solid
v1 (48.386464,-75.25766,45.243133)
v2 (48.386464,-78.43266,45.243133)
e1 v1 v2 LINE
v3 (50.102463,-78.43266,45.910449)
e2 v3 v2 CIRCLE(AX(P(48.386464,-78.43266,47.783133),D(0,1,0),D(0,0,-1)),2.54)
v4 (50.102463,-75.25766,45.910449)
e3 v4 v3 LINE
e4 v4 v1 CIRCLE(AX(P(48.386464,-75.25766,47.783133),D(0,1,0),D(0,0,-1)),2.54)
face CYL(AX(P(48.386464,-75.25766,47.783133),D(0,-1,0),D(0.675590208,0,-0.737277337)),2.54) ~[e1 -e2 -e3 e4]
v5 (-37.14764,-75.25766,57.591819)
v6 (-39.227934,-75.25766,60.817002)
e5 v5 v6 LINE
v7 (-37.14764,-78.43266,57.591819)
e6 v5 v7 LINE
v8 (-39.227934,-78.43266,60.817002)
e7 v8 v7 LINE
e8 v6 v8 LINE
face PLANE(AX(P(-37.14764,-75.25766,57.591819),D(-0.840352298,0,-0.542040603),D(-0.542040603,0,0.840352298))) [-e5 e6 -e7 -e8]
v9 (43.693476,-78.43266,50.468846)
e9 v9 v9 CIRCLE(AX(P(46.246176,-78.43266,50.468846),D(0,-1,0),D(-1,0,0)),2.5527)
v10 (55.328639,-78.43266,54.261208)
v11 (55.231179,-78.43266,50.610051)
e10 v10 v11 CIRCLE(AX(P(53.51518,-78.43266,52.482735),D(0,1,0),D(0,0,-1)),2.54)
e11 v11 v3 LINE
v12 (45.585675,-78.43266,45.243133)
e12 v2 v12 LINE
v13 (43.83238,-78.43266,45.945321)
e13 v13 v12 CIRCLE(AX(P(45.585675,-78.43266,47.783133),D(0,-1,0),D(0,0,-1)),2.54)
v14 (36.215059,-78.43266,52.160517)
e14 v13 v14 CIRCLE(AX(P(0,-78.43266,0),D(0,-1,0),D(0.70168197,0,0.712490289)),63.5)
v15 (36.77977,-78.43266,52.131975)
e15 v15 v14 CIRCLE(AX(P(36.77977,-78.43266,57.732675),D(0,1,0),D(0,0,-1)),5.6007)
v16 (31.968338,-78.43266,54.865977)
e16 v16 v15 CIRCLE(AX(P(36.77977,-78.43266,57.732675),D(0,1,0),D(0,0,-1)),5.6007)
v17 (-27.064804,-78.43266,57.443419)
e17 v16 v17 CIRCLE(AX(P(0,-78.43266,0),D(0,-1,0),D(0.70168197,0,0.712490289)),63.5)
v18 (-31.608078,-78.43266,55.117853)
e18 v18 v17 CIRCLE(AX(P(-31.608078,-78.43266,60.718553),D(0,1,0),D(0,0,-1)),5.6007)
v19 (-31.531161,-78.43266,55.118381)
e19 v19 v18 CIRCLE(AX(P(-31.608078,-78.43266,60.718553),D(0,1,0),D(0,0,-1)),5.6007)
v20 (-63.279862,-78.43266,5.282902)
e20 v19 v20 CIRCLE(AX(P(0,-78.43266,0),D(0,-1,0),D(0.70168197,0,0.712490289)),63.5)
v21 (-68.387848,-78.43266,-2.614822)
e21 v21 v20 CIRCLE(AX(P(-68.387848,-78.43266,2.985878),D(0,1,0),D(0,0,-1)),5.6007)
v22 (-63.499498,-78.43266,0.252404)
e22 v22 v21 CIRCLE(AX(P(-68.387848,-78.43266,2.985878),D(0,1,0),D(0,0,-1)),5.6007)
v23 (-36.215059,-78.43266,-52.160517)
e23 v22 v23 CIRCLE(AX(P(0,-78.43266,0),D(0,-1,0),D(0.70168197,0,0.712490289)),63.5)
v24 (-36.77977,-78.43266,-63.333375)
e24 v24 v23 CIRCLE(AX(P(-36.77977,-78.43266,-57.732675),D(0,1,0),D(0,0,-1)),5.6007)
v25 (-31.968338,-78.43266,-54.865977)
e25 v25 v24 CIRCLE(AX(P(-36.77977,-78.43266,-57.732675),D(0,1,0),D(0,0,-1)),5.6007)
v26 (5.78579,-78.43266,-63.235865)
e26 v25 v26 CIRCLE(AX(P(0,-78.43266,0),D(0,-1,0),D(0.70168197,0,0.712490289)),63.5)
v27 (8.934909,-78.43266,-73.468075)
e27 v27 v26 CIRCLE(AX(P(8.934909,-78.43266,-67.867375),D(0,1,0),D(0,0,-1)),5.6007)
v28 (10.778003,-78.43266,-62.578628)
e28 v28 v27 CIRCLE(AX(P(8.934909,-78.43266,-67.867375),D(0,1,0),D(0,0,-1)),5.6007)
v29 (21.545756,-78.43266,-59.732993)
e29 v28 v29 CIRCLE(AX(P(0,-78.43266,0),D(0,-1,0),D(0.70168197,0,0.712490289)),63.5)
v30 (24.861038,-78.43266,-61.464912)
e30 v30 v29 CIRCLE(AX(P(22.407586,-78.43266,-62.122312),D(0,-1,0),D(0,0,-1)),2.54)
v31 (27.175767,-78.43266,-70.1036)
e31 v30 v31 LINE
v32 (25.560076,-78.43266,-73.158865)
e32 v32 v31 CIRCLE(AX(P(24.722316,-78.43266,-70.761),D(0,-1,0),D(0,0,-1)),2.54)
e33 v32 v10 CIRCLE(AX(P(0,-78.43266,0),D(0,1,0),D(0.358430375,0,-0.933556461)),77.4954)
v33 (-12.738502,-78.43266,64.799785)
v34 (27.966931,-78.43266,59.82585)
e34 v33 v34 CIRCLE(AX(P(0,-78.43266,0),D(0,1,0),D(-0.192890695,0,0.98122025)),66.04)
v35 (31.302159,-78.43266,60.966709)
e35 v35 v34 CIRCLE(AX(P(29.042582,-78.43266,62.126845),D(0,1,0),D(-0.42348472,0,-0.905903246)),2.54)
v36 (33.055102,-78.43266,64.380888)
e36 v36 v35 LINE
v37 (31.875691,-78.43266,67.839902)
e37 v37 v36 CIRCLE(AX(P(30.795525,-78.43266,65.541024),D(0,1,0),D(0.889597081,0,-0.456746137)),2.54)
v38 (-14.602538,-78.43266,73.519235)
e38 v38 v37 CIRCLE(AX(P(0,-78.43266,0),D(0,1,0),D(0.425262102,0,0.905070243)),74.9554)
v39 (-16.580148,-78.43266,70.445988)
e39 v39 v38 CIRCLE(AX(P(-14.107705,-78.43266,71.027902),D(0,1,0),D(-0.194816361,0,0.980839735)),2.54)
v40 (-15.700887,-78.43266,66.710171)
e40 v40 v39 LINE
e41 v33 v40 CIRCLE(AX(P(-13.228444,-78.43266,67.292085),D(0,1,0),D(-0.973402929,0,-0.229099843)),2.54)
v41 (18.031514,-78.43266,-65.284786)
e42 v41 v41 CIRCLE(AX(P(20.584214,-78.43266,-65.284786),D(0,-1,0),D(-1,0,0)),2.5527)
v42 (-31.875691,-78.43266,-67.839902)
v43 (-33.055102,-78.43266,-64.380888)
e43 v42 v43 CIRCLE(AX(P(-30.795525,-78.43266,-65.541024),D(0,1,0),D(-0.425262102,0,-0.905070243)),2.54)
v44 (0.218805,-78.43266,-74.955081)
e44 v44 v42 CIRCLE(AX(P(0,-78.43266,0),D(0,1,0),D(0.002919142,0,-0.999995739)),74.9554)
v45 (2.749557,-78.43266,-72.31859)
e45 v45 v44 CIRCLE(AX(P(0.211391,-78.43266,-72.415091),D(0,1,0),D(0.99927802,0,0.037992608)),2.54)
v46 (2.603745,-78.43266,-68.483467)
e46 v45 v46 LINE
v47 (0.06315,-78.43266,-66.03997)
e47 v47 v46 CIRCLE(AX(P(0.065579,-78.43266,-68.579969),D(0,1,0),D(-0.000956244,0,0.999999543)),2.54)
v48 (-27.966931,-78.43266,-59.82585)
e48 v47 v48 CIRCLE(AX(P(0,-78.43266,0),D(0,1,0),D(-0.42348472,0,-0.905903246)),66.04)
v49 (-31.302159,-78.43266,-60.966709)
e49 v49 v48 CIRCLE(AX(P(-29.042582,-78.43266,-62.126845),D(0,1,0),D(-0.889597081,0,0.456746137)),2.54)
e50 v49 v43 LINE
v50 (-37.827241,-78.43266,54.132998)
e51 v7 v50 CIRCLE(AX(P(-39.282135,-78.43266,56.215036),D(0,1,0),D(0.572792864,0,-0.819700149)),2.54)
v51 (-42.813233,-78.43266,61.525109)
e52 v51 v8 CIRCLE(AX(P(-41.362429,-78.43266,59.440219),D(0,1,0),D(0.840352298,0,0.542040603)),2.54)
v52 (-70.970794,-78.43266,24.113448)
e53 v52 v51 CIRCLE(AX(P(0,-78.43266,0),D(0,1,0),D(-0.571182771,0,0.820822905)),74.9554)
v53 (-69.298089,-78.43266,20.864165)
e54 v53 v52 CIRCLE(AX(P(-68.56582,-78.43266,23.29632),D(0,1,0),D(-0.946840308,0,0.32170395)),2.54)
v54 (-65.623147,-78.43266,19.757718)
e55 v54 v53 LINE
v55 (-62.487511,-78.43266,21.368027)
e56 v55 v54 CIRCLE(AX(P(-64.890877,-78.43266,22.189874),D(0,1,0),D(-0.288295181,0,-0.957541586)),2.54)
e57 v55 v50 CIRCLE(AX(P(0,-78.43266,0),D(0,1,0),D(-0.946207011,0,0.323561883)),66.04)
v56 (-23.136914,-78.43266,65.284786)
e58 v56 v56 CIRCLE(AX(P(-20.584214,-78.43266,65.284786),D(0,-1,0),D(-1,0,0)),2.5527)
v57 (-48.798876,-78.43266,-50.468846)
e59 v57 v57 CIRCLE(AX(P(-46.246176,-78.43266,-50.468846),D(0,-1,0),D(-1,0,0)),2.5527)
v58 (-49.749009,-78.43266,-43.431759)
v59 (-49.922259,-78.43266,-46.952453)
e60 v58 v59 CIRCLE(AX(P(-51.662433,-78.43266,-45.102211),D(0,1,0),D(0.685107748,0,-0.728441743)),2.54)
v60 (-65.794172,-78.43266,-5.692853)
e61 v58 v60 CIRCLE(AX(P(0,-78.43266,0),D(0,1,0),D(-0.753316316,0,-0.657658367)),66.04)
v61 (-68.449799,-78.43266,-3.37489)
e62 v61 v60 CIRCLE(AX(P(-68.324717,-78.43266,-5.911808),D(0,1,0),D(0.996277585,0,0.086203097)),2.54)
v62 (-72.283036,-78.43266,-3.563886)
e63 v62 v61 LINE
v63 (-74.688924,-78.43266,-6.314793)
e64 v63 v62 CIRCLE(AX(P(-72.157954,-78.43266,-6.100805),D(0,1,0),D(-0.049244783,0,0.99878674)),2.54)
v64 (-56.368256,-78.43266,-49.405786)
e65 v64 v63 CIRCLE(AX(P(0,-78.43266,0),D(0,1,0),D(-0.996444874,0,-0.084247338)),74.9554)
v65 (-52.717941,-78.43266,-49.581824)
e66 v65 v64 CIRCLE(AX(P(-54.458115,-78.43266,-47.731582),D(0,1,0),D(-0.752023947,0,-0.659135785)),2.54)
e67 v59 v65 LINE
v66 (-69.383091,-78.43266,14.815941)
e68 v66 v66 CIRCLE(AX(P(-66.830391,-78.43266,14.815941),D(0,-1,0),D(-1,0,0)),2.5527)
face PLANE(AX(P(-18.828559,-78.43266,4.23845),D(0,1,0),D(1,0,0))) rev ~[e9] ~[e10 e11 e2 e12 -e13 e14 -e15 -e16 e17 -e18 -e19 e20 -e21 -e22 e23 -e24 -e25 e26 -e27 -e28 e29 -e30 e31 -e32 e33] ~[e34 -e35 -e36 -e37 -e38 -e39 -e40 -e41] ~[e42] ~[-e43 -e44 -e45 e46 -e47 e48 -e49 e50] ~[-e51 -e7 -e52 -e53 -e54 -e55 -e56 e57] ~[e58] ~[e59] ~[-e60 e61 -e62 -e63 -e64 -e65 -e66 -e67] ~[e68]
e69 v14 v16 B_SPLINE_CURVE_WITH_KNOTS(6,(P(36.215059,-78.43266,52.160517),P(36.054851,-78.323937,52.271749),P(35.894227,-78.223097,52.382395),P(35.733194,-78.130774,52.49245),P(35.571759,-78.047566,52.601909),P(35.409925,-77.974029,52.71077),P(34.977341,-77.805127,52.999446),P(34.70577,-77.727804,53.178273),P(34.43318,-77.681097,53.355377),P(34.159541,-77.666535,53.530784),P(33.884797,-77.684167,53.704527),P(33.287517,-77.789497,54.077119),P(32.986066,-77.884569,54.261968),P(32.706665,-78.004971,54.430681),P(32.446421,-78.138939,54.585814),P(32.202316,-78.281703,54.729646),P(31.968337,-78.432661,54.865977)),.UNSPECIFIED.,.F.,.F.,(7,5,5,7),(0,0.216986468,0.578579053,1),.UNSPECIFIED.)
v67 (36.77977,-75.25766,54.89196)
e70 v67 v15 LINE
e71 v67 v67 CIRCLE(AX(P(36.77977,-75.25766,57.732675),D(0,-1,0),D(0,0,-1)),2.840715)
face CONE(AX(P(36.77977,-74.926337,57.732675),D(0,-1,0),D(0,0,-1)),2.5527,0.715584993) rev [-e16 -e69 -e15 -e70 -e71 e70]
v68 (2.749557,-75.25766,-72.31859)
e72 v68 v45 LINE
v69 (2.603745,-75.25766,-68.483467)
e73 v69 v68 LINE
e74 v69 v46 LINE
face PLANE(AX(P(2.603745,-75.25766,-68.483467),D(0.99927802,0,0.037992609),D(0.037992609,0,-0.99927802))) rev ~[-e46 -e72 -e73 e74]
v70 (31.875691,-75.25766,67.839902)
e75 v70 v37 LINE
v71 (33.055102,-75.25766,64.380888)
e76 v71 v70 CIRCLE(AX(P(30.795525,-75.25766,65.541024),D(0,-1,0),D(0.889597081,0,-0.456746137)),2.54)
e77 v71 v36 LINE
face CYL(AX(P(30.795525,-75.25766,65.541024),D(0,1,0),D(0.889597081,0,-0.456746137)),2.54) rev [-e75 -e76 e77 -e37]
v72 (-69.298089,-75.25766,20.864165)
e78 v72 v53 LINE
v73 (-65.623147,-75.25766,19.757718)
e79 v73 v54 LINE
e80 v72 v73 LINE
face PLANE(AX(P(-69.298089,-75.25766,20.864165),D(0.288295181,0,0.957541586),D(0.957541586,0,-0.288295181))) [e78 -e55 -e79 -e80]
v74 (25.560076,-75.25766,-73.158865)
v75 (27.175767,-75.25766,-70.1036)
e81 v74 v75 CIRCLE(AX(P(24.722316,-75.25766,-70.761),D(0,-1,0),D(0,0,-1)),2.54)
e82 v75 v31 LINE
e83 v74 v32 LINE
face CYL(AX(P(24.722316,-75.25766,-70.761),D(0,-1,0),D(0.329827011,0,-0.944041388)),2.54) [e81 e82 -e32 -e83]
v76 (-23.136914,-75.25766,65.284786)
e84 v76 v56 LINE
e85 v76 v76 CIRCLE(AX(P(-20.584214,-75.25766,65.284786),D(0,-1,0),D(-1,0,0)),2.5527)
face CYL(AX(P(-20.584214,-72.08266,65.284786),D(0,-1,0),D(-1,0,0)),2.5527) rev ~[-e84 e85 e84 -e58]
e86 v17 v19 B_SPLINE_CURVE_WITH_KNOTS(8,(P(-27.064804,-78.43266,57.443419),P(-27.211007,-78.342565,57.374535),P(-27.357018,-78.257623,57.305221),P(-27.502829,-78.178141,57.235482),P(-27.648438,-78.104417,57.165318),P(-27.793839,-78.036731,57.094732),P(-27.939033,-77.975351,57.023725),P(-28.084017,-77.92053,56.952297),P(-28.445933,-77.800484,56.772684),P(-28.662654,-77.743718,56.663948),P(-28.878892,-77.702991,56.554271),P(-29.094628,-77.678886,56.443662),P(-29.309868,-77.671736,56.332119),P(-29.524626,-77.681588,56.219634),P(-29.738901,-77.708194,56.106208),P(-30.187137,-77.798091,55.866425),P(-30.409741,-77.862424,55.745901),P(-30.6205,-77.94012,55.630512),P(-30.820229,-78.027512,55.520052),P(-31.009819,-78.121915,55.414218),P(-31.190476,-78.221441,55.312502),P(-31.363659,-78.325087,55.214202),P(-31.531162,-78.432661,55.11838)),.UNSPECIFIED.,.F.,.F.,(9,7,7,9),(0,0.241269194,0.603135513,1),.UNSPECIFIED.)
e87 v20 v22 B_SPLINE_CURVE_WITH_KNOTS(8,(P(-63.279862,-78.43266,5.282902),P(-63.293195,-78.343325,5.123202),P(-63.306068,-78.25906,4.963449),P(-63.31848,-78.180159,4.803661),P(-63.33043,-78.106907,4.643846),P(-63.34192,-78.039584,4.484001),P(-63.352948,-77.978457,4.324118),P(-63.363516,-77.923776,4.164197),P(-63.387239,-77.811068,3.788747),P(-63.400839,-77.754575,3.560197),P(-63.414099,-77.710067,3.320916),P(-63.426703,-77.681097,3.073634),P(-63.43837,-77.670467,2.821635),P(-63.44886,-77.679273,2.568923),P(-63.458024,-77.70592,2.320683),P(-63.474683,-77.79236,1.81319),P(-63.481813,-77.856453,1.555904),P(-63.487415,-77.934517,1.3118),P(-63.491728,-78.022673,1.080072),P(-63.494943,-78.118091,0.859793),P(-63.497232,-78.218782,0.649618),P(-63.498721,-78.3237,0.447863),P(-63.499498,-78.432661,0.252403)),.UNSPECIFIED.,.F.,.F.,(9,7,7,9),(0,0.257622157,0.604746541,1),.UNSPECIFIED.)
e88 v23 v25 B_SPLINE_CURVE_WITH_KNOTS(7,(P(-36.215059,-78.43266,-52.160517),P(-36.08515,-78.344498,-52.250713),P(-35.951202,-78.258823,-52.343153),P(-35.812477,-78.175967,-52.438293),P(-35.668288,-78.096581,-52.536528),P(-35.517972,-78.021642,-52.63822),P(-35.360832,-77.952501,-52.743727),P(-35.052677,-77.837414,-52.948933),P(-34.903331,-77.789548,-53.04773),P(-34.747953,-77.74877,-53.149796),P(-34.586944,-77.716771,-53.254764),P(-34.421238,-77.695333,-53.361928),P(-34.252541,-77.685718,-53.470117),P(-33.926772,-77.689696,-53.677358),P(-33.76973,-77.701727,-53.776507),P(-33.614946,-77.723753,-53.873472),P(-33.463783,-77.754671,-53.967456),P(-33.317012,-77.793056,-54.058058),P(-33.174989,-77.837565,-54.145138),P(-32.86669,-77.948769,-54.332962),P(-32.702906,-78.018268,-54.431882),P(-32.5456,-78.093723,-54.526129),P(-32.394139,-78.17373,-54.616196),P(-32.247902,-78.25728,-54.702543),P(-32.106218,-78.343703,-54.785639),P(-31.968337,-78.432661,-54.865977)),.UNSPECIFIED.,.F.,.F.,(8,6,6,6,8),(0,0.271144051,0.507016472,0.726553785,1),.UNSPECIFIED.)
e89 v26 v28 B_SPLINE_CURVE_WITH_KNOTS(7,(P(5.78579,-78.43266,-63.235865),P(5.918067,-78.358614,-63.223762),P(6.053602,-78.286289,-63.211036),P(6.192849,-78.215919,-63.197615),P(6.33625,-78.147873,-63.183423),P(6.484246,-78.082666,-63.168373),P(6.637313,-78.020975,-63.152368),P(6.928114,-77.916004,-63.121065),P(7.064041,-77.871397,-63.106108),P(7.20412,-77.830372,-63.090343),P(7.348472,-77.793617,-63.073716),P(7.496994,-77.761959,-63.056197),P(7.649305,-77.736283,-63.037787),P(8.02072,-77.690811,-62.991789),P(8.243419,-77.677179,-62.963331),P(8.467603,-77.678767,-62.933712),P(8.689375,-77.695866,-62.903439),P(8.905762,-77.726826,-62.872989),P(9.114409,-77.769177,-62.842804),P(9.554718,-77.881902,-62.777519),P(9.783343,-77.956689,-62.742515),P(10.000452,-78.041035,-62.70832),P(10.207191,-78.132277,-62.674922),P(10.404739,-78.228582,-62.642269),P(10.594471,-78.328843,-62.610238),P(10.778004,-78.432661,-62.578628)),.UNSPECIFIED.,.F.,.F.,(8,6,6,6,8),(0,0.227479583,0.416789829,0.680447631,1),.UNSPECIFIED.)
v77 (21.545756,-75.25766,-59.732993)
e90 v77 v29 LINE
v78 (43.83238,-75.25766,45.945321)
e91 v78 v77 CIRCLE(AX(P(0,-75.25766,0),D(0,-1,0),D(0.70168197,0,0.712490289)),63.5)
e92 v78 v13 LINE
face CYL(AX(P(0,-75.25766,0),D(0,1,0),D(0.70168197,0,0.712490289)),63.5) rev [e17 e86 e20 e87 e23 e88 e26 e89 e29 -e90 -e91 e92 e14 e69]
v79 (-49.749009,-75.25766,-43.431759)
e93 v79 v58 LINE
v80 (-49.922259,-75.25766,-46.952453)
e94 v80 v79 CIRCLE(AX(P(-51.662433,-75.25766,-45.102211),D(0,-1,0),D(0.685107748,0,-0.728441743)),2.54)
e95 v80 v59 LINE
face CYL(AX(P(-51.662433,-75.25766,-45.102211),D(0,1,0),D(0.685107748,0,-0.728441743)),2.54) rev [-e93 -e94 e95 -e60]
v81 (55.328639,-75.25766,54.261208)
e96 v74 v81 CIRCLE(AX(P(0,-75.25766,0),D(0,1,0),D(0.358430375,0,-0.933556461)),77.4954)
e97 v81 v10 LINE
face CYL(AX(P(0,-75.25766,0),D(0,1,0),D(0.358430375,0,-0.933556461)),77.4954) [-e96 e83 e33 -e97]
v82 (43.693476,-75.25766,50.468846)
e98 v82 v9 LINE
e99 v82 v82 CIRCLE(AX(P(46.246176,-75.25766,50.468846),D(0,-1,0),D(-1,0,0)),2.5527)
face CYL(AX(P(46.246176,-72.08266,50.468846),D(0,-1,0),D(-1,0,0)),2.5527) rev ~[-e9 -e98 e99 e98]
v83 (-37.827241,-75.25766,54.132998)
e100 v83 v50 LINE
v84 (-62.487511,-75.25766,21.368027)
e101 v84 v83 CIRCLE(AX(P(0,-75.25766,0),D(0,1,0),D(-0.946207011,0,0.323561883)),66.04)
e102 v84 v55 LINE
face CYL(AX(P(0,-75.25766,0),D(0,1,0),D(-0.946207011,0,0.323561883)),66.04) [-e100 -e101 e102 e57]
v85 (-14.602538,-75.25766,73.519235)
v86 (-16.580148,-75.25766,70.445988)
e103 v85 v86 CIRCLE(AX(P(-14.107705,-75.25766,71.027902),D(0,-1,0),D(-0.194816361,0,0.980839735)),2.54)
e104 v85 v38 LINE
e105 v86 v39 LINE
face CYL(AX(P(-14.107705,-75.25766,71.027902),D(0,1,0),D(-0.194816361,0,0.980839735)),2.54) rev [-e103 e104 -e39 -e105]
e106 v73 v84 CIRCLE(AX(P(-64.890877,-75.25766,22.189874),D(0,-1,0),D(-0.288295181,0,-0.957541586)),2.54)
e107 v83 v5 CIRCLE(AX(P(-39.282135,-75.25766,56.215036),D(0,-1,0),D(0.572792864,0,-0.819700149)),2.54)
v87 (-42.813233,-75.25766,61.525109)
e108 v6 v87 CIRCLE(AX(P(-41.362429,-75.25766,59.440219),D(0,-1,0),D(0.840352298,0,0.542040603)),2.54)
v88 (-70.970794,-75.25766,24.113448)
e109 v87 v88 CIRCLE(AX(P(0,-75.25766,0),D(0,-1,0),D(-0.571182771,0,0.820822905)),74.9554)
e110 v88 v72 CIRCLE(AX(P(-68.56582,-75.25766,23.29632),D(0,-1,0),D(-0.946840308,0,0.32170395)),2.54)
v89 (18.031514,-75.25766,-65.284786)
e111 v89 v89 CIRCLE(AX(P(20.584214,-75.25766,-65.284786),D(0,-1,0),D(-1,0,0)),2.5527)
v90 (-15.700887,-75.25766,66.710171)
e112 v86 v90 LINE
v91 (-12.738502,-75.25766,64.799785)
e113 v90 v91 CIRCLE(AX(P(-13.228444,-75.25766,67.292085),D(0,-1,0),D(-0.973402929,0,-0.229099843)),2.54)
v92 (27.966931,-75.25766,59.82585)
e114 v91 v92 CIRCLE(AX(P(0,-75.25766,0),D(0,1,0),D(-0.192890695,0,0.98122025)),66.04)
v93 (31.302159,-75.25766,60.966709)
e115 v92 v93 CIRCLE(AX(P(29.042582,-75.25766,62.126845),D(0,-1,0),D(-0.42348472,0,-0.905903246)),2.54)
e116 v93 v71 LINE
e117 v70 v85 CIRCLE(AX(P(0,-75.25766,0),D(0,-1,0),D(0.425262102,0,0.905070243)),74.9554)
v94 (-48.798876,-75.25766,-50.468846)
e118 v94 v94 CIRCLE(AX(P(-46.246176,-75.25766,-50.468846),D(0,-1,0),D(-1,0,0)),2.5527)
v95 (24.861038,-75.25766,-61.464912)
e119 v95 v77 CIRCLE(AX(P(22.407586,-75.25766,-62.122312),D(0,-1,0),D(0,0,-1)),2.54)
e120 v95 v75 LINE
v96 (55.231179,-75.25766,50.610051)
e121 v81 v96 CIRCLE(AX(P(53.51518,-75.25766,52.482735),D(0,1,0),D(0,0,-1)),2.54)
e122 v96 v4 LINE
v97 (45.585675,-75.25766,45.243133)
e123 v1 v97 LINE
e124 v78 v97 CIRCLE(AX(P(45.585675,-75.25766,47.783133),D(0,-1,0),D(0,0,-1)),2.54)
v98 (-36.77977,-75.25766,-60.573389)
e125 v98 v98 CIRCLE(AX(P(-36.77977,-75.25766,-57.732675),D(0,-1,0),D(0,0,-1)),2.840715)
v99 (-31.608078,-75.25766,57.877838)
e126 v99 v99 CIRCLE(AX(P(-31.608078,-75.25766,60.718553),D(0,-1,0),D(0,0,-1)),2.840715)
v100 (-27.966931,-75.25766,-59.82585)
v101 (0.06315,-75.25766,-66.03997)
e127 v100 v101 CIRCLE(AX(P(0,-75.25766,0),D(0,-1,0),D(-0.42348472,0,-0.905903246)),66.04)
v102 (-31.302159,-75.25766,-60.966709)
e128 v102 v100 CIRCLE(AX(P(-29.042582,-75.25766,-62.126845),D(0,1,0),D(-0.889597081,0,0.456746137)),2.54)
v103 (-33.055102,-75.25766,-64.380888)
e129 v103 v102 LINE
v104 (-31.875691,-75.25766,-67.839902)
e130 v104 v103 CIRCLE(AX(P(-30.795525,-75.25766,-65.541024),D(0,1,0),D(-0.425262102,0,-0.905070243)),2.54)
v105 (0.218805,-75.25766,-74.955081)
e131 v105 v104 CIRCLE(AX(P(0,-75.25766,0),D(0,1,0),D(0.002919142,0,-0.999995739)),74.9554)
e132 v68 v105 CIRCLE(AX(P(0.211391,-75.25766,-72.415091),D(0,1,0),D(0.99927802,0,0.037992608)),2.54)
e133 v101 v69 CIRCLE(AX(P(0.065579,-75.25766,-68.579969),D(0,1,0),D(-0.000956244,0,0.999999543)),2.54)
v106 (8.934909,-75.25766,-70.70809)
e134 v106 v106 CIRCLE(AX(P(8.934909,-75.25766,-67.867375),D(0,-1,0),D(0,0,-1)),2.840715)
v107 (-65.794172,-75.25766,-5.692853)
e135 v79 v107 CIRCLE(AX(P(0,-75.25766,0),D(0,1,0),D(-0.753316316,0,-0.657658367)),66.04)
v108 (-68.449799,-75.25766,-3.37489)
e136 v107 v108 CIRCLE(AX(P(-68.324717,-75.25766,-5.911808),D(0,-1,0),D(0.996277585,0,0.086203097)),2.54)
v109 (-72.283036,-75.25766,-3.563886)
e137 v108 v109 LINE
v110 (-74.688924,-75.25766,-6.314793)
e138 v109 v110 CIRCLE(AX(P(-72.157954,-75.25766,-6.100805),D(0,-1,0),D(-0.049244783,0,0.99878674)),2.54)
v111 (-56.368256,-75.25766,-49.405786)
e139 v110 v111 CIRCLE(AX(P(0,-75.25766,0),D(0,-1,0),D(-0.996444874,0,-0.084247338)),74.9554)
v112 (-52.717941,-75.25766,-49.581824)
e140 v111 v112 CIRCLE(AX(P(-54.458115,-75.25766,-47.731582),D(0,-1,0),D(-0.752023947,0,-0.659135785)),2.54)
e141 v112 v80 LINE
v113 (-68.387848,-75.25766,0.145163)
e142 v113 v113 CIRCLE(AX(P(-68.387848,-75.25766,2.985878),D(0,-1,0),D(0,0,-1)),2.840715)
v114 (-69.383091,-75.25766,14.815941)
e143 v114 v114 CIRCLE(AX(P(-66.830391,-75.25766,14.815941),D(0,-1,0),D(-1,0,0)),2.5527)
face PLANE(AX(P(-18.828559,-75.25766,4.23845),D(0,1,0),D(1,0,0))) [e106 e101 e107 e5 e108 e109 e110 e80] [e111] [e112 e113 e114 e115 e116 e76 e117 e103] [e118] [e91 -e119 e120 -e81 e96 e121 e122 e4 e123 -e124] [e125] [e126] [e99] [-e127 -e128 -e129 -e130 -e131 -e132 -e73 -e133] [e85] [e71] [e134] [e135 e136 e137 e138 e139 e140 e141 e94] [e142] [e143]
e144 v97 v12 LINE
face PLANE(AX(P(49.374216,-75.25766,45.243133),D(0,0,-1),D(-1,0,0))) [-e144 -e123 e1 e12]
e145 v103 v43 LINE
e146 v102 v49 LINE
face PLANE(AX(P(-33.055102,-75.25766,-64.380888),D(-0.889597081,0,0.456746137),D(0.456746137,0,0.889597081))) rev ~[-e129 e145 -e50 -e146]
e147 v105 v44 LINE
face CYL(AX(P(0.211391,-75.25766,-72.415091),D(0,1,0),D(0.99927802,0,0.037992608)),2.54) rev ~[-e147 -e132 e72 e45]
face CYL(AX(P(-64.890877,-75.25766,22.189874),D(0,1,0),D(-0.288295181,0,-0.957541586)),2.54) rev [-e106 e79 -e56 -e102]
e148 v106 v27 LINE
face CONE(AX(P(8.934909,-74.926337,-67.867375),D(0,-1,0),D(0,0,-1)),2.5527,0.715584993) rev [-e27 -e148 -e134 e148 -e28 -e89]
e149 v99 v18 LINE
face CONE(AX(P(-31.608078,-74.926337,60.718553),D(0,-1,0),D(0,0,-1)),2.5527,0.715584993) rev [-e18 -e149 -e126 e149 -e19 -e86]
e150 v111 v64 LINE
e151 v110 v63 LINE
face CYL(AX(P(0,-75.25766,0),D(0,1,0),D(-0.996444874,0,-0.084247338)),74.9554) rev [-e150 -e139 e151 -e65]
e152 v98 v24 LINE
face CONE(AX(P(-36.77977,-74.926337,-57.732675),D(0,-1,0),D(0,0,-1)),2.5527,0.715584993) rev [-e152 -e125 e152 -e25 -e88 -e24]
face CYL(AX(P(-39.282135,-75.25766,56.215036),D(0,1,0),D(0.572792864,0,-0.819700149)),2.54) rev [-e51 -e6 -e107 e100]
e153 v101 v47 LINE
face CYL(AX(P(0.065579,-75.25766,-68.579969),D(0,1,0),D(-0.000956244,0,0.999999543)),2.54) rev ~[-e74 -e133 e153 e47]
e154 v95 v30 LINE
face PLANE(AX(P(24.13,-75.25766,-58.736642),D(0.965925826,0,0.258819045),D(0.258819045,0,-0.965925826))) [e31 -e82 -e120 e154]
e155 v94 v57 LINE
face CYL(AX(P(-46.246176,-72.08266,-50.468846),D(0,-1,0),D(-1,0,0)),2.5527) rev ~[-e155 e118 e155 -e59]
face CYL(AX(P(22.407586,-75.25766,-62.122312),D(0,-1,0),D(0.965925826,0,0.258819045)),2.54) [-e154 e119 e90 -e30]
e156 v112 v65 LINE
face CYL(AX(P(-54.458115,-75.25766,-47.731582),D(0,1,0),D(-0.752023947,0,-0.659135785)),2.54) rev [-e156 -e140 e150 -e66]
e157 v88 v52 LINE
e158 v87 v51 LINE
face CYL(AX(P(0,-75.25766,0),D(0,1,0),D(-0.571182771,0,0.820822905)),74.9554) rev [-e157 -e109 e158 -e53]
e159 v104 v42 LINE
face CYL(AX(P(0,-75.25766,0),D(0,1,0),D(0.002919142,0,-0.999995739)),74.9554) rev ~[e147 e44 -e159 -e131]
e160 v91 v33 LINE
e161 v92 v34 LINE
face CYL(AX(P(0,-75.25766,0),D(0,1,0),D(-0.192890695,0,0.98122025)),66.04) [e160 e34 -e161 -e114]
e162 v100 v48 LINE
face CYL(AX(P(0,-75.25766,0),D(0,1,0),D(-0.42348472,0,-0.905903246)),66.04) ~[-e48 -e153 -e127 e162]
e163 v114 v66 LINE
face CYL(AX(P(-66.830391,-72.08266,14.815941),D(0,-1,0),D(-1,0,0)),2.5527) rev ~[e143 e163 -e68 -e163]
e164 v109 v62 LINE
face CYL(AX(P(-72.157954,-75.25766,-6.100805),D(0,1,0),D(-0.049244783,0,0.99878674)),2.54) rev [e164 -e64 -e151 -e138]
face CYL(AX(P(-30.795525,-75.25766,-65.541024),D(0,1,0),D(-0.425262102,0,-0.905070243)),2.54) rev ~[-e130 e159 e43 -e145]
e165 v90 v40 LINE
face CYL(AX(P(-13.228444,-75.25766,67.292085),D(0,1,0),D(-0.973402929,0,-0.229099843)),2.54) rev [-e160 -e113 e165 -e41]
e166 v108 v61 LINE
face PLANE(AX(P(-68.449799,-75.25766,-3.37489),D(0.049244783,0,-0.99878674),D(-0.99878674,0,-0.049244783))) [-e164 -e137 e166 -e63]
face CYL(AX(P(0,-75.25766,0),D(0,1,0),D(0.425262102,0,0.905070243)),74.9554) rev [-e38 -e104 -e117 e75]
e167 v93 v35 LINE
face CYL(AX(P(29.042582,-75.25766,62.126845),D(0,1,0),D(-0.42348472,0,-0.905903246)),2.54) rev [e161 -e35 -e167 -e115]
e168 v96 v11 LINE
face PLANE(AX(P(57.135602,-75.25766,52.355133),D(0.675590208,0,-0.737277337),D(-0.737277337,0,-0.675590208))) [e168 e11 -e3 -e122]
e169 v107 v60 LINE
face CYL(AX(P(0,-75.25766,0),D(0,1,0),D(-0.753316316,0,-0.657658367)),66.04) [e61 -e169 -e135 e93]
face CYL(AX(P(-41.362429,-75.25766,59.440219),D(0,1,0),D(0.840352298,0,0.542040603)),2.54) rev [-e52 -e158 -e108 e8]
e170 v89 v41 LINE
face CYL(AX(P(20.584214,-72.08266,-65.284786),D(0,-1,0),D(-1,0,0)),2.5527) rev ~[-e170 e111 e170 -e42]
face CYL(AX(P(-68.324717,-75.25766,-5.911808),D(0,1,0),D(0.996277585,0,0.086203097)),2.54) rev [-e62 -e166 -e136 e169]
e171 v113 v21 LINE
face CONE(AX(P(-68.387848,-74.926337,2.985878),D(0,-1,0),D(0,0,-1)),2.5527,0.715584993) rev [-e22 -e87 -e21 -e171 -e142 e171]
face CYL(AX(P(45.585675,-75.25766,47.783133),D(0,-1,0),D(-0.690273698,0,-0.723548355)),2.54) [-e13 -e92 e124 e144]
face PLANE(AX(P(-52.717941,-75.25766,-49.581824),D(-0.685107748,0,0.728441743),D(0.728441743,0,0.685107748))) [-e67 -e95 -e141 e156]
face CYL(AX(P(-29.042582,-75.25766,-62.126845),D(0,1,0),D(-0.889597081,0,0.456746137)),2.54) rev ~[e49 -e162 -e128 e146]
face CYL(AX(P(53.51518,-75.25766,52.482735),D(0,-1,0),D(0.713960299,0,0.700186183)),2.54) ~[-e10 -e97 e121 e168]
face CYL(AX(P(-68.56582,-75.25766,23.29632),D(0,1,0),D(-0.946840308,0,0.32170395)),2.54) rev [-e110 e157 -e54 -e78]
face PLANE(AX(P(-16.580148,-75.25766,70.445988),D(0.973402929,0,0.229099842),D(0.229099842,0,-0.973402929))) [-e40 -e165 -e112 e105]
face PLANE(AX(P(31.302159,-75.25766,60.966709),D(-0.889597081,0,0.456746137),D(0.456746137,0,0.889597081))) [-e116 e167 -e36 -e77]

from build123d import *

# Parameters (mm, degrees)
BOSS_EXTRUDE1_DEPTH                          = 3.175
F_10_CLEARANCE_HOLE1_D                       = 5.1054
F_10_CLEARANCE_HOLE1_DEPTH                   = 3.175
CSK_FOR_10_FLAT_HEAD_MACHINE_SCREW1_AT_COUNT = 2
CSK_FOR_10_FLAT_HEAD_MACHINE_SCREW1_AT_PITCH = 46.824609742
CSK_FOR_10_FLAT_HEAD_MACHINE_SCREW1_2_COUNT  = 2
CSK_FOR_10_FLAT_HEAD_MACHINE_SCREW1_2_PITCH  = 104.87608053
CSK_FOR_10_FLAT_HEAD_MACHINE_SCREW1_3_COUNT  = 2
CSK_FOR_10_FLAT_HEAD_MACHINE_SCREW1_3_PITCH  = 134.826090234
CSK_FOR_10_FLAT_HEAD_MACHINE_SCREW1_4_COUNT  = 2
CSK_FOR_10_FLAT_HEAD_MACHINE_SCREW1_4_PITCH  = 128.649557941
FILLET1_R                                    = 2.54
CUT_EXTRUDE1_REACH                           = 5.175


with BuildPart() as part:
    # Sketch6 → Boss-Extrude1 (new body)
    with BuildSketch(Plane(origin=(0, -75.25766, 0), x_dir=(1, 0, 0), z_dir=(0, 1, 0))):
        with BuildLine():
            ThreePointArc((27.776705308, 72.346331375), (-75.433008797, -17.75945396), (57.135602127, -52.355133375))
            Line((57.135602127, -52.355133375), (49.374216067, -45.243133375))
            Line((49.374216067, -45.243133375), (44.556805119, -45.243133375))
            ThreePointArc((44.556805119, -45.243133375), (-62.309050026, -12.240599855), (24.13, 58.736641886))
            Line((24.13, 58.736641886), (27.776705308, 72.346331375))
        make_face()
    extrude(amount=-BOSS_EXTRUDE1_DEPTH)

    # #10 Clearance Hole1
    with Locations(Plane(origin=(0, -75.25766, 0), x_dir=(1, 0, 0), z_dir=(0, 1, 0))):
        with Locations((-46.246176482, 50.468845537), (20.584214093, 65.28478643), (-66.830390575, -14.815940893), (-20.584214093, -65.28478643), (46.246176482, -50.468845537)):
            Hole(F_10_CLEARANCE_HOLE1_D / 2, depth=F_10_CLEARANCE_HOLE1_DEPTH)

    # Sketch10 → CSK for #10 Flat Head Machine Screw1 (revolve, cut)
    with BuildSketch(Plane(origin=(8.934909436, -78.43266, -67.867375096), x_dir=(0, 0, -1), z_dir=(1, 0, 0))):
        Polygon((0, 0), (0, 3.175), (2.5527, 3.175), (2.5527, 3.506322905), (5.6007, 0), align=None)
    csk_for_10_flat_head_machine_screw1 = revolve(axis=Axis((8.934909436, -84.78266, -67.867375096), (0, 1, 0)), mode=Mode.SUBTRACT)

    # CSK for #10 Flat Head Machine Screw1 at: CSK for #10 Flat Head Machine Screw1 ×2
    with Locations(*[Vector(-0.976296007, 0, 0.216439614) * (i * CSK_FOR_10_FLAT_HEAD_MACHINE_SCREW1_AT_PITCH) for i in range(1, CSK_FOR_10_FLAT_HEAD_MACHINE_SCREW1_AT_COUNT)]):
        add(csk_for_10_flat_head_machine_screw1, mode=Mode.SUBTRACT)

    # CSK for _10 Flat Head Machine Screw1 2: CSK for #10 Flat Head Machine Screw1 ×2
    with Locations(*[Vector(-0.737277337, 0, 0.675590208) * (i * CSK_FOR_10_FLAT_HEAD_MACHINE_SCREW1_2_PITCH) for i in range(1, CSK_FOR_10_FLAT_HEAD_MACHINE_SCREW1_2_COUNT)]):
        add(csk_for_10_flat_head_machine_screw1, mode=Mode.SUBTRACT)

    # CSK for _10 Flat Head Machine Screw1 3: CSK for #10 Flat Head Machine Screw1 ×2
    with Locations(*[Vector(-0.3007058, 0, 0.953716951) * (i * CSK_FOR_10_FLAT_HEAD_MACHINE_SCREW1_3_PITCH) for i in range(1, CSK_FOR_10_FLAT_HEAD_MACHINE_SCREW1_3_COUNT)]):
        add(csk_for_10_flat_head_machine_screw1, mode=Mode.SUBTRACT)

    # CSK for _10 Flat Head Machine Screw1 4: CSK for #10 Flat Head Machine Screw1 ×2
    with Locations(*[Vector(0.216439614, 0, 0.976296007) * (i * CSK_FOR_10_FLAT_HEAD_MACHINE_SCREW1_4_PITCH) for i in range(1, CSK_FOR_10_FLAT_HEAD_MACHINE_SCREW1_4_COUNT)]):
        add(csk_for_10_flat_head_machine_screw1, mode=Mode.SUBTRACT)

    # Fillet1
    fillet1_edges = [part.edges().sort_by_distance(p)[0] for p in [
        (24.13, -76.84516, -58.736641886),
        (27.776705308, -76.84516, -72.346331375),
        (57.135602127, -76.84516, 52.355133375),
        (49.374216067, -76.84516, 45.243133375),
        (44.556805119, -76.84516, 45.243133375),
    ]]
    fillet(fillet1_edges, radius=FILLET1_R)

    # Sketch14 → Cut-Extrude1 (cut, up to next)
    with BuildSketch(Plane(origin=(0, -75.25766, 0), x_dir=(1, 0, 0), z_dir=(0, 1, 0)), mode=Mode.PRIVATE) as cut_extrude1_sk1:
        with BuildLine():
            Line((-33.055101826, 64.380888472), (-31.302158707, 60.966709443))
            ThreePointArc((-31.302158707, 60.966709443), (-29.864658567, 59.723557233), (-27.966930931, 59.825850385))
            ThreePointArc((-27.966930931, 59.825850385), (-14.293672104, 64.47458831), (0.063150386, 66.039969806))
            ThreePointArc((0.063150386, 66.039969806), (1.826306674, 66.749275081), (2.603745418, 68.483467419))
            Line((2.603745418, 68.483467419), (2.749557011, 72.318590234))
            ThreePointArc((2.749557011, 72.318590234), (2.043811589, 74.174021303), (0.21880546, 74.955080637))
            ThreePointArc((0.21880546, 74.955080637), (-16.223317839, 73.178657732), (-31.87569098, 67.839902076))
            ThreePointArc((-31.87569098, 67.839902076), (-33.199618308, 66.360741002), (-33.055101826, 64.380888472))
        make_face()
    cut_extrude1_tool1 = extrude(cut_extrude1_sk1.sketch, amount=-CUT_EXTRUDE1_REACH, mode=Mode.PRIVATE) & part.part
    add(cut_extrude1_tool1.solids().sort_by_distance((-15.117133, -75.25766, -68.188982))[0], mode=Mode.SUBTRACT)
    # Sketch14 → Cut-Extrude1 (cut, up to next)
    with BuildSketch(Plane(origin=(0, -75.25766, 0), x_dir=(1, 0, 0), z_dir=(0, 1, 0)), mode=Mode.PRIVATE) as cut_extrude1_sk2:
        with BuildLine():
            Line((-52.717941235, 49.581823576), (-49.92225926, 46.952452868))
            ThreePointArc((-49.92225926, 46.952452868), (-49.125502701, 45.22705058), (-49.749009498, 43.431758587))
            ThreePointArc((-49.749009498, 43.431758587), (-60.775101299, 25.839285248), (-65.794171702, 5.69285254))
            ThreePointArc((-65.794171702, 5.69285254), (-66.654447051, 3.998225622), (-68.449798516, 3.374890088))
            Line((-68.449798516, 3.374890088), (-72.283035848, 3.56388633))
            ThreePointArc((-72.283035848, 3.56388633), (-74.069896676, 4.42865765), (-74.688924078, 6.314792886))
            ThreePointArc((-74.688924078, 6.314792886), (-68.979739974, 29.327588756), (-56.36825574, 49.405786442))
            ThreePointArc((-56.36825574, 49.405786442), (-54.580464724, 50.268633089), (-52.717941235, 49.581823576))
        make_face()
    cut_extrude1_tool2 = extrude(cut_extrude1_sk2.sketch, amount=-CUT_EXTRUDE1_REACH, mode=Mode.PRIVATE) & part.part
    add(cut_extrude1_tool2.solids().sort_by_distance((-63.655179, -75.25766, -27.063786))[0], mode=Mode.SUBTRACT)
    # Sketch14 → Cut-Extrude1 (cut, up to next)
    with BuildSketch(Plane(origin=(0, -75.25766, 0), x_dir=(1, 0, 0), z_dir=(0, 1, 0)), mode=Mode.PRIVATE) as cut_extrude1_sk3:
        with BuildLine():
            Line((-69.2980894, -20.864164557), (-65.623146584, -19.7577183))
            ThreePointArc((-65.623146584, -19.7577183), (-63.730526092, -19.930408023), (-62.487511016, -21.368026745))
            ThreePointArc((-62.487511016, -21.368026745), (-52.76502809, -39.713139018), (-37.827240771, -54.132997845))
            ThreePointArc((-37.827240771, -54.132997845), (-36.789788484, -55.725331611), (-37.147639809, -57.591819355))
            Line((-37.147639809, -57.591819355), (-39.227934022, -60.817002142))
            ThreePointArc((-39.227934022, -60.817002142), (-40.870278368, -61.932083352), (-42.813233098, -61.52510919))
            ThreePointArc((-42.813233098, -61.52510919), (-59.888306882, -45.074412786), (-70.970794023, -24.113448217))
            ThreePointArc((-70.970794023, -24.113448217), (-70.824145631, -22.133752457), (-69.2980894, -20.864164557))
        make_face()
    cut_extrude1_tool3 = extrude(cut_extrude1_sk3.sketch, amount=-CUT_EXTRUDE1_REACH, mode=Mode.PRIVATE) & part.part
    add(cut_extrude1_tool3.solids().sort_by_distance((-55.265515, -75.25766, 41.595109))[0], mode=Mode.SUBTRACT)
    # Sketch14 → Cut-Extrude1 (cut, up to next)
    with BuildSketch(Plane(origin=(0, -75.25766, 0), x_dir=(1, 0, 0), z_dir=(0, 1, 0)), mode=Mode.PRIVATE) as cut_extrude1_sk4:
        with BuildLine():
            Line((-16.580148165, -70.445988133), (-15.700887324, -66.710171168))
            ThreePointArc((-15.700887324, -66.710171168), (-14.60502339, -65.157458603), (-12.738501518, -64.799785332))
            ThreePointArc((-12.738501518, -64.799785332), (8.010073209, -65.552424266), (27.966930931, -59.825850385))
            ThreePointArc((27.966930931, -59.825850385), (29.864658567, -59.723557233), (31.302158707, -60.966709443))
            Line((31.302158707, -60.966709443), (33.055101826, -64.380888472))
            ThreePointArc((33.055101826, -64.380888472), (33.199618308, -66.360741002), (31.87569098, -67.839902076))
            ThreePointArc((31.87569098, -67.839902076), (9.091433092, -74.402001542), (-14.602538283, -73.519234659))
            ThreePointArc((-14.602538283, -73.519234659), (-16.243680907, -72.402385546), (-16.580148165, -70.445988133))
        make_face()
    cut_extrude1_tool4 = extrude(cut_extrude1_sk4.sketch, amount=-CUT_EXTRUDE1_REACH, mode=Mode.PRIVATE) & part.part
    add(cut_extrude1_tool4.solids().sort_by_distance((8.389663, -75.25766, 68.658895))[0], mode=Mode.SUBTRACT)


solid = part.part
